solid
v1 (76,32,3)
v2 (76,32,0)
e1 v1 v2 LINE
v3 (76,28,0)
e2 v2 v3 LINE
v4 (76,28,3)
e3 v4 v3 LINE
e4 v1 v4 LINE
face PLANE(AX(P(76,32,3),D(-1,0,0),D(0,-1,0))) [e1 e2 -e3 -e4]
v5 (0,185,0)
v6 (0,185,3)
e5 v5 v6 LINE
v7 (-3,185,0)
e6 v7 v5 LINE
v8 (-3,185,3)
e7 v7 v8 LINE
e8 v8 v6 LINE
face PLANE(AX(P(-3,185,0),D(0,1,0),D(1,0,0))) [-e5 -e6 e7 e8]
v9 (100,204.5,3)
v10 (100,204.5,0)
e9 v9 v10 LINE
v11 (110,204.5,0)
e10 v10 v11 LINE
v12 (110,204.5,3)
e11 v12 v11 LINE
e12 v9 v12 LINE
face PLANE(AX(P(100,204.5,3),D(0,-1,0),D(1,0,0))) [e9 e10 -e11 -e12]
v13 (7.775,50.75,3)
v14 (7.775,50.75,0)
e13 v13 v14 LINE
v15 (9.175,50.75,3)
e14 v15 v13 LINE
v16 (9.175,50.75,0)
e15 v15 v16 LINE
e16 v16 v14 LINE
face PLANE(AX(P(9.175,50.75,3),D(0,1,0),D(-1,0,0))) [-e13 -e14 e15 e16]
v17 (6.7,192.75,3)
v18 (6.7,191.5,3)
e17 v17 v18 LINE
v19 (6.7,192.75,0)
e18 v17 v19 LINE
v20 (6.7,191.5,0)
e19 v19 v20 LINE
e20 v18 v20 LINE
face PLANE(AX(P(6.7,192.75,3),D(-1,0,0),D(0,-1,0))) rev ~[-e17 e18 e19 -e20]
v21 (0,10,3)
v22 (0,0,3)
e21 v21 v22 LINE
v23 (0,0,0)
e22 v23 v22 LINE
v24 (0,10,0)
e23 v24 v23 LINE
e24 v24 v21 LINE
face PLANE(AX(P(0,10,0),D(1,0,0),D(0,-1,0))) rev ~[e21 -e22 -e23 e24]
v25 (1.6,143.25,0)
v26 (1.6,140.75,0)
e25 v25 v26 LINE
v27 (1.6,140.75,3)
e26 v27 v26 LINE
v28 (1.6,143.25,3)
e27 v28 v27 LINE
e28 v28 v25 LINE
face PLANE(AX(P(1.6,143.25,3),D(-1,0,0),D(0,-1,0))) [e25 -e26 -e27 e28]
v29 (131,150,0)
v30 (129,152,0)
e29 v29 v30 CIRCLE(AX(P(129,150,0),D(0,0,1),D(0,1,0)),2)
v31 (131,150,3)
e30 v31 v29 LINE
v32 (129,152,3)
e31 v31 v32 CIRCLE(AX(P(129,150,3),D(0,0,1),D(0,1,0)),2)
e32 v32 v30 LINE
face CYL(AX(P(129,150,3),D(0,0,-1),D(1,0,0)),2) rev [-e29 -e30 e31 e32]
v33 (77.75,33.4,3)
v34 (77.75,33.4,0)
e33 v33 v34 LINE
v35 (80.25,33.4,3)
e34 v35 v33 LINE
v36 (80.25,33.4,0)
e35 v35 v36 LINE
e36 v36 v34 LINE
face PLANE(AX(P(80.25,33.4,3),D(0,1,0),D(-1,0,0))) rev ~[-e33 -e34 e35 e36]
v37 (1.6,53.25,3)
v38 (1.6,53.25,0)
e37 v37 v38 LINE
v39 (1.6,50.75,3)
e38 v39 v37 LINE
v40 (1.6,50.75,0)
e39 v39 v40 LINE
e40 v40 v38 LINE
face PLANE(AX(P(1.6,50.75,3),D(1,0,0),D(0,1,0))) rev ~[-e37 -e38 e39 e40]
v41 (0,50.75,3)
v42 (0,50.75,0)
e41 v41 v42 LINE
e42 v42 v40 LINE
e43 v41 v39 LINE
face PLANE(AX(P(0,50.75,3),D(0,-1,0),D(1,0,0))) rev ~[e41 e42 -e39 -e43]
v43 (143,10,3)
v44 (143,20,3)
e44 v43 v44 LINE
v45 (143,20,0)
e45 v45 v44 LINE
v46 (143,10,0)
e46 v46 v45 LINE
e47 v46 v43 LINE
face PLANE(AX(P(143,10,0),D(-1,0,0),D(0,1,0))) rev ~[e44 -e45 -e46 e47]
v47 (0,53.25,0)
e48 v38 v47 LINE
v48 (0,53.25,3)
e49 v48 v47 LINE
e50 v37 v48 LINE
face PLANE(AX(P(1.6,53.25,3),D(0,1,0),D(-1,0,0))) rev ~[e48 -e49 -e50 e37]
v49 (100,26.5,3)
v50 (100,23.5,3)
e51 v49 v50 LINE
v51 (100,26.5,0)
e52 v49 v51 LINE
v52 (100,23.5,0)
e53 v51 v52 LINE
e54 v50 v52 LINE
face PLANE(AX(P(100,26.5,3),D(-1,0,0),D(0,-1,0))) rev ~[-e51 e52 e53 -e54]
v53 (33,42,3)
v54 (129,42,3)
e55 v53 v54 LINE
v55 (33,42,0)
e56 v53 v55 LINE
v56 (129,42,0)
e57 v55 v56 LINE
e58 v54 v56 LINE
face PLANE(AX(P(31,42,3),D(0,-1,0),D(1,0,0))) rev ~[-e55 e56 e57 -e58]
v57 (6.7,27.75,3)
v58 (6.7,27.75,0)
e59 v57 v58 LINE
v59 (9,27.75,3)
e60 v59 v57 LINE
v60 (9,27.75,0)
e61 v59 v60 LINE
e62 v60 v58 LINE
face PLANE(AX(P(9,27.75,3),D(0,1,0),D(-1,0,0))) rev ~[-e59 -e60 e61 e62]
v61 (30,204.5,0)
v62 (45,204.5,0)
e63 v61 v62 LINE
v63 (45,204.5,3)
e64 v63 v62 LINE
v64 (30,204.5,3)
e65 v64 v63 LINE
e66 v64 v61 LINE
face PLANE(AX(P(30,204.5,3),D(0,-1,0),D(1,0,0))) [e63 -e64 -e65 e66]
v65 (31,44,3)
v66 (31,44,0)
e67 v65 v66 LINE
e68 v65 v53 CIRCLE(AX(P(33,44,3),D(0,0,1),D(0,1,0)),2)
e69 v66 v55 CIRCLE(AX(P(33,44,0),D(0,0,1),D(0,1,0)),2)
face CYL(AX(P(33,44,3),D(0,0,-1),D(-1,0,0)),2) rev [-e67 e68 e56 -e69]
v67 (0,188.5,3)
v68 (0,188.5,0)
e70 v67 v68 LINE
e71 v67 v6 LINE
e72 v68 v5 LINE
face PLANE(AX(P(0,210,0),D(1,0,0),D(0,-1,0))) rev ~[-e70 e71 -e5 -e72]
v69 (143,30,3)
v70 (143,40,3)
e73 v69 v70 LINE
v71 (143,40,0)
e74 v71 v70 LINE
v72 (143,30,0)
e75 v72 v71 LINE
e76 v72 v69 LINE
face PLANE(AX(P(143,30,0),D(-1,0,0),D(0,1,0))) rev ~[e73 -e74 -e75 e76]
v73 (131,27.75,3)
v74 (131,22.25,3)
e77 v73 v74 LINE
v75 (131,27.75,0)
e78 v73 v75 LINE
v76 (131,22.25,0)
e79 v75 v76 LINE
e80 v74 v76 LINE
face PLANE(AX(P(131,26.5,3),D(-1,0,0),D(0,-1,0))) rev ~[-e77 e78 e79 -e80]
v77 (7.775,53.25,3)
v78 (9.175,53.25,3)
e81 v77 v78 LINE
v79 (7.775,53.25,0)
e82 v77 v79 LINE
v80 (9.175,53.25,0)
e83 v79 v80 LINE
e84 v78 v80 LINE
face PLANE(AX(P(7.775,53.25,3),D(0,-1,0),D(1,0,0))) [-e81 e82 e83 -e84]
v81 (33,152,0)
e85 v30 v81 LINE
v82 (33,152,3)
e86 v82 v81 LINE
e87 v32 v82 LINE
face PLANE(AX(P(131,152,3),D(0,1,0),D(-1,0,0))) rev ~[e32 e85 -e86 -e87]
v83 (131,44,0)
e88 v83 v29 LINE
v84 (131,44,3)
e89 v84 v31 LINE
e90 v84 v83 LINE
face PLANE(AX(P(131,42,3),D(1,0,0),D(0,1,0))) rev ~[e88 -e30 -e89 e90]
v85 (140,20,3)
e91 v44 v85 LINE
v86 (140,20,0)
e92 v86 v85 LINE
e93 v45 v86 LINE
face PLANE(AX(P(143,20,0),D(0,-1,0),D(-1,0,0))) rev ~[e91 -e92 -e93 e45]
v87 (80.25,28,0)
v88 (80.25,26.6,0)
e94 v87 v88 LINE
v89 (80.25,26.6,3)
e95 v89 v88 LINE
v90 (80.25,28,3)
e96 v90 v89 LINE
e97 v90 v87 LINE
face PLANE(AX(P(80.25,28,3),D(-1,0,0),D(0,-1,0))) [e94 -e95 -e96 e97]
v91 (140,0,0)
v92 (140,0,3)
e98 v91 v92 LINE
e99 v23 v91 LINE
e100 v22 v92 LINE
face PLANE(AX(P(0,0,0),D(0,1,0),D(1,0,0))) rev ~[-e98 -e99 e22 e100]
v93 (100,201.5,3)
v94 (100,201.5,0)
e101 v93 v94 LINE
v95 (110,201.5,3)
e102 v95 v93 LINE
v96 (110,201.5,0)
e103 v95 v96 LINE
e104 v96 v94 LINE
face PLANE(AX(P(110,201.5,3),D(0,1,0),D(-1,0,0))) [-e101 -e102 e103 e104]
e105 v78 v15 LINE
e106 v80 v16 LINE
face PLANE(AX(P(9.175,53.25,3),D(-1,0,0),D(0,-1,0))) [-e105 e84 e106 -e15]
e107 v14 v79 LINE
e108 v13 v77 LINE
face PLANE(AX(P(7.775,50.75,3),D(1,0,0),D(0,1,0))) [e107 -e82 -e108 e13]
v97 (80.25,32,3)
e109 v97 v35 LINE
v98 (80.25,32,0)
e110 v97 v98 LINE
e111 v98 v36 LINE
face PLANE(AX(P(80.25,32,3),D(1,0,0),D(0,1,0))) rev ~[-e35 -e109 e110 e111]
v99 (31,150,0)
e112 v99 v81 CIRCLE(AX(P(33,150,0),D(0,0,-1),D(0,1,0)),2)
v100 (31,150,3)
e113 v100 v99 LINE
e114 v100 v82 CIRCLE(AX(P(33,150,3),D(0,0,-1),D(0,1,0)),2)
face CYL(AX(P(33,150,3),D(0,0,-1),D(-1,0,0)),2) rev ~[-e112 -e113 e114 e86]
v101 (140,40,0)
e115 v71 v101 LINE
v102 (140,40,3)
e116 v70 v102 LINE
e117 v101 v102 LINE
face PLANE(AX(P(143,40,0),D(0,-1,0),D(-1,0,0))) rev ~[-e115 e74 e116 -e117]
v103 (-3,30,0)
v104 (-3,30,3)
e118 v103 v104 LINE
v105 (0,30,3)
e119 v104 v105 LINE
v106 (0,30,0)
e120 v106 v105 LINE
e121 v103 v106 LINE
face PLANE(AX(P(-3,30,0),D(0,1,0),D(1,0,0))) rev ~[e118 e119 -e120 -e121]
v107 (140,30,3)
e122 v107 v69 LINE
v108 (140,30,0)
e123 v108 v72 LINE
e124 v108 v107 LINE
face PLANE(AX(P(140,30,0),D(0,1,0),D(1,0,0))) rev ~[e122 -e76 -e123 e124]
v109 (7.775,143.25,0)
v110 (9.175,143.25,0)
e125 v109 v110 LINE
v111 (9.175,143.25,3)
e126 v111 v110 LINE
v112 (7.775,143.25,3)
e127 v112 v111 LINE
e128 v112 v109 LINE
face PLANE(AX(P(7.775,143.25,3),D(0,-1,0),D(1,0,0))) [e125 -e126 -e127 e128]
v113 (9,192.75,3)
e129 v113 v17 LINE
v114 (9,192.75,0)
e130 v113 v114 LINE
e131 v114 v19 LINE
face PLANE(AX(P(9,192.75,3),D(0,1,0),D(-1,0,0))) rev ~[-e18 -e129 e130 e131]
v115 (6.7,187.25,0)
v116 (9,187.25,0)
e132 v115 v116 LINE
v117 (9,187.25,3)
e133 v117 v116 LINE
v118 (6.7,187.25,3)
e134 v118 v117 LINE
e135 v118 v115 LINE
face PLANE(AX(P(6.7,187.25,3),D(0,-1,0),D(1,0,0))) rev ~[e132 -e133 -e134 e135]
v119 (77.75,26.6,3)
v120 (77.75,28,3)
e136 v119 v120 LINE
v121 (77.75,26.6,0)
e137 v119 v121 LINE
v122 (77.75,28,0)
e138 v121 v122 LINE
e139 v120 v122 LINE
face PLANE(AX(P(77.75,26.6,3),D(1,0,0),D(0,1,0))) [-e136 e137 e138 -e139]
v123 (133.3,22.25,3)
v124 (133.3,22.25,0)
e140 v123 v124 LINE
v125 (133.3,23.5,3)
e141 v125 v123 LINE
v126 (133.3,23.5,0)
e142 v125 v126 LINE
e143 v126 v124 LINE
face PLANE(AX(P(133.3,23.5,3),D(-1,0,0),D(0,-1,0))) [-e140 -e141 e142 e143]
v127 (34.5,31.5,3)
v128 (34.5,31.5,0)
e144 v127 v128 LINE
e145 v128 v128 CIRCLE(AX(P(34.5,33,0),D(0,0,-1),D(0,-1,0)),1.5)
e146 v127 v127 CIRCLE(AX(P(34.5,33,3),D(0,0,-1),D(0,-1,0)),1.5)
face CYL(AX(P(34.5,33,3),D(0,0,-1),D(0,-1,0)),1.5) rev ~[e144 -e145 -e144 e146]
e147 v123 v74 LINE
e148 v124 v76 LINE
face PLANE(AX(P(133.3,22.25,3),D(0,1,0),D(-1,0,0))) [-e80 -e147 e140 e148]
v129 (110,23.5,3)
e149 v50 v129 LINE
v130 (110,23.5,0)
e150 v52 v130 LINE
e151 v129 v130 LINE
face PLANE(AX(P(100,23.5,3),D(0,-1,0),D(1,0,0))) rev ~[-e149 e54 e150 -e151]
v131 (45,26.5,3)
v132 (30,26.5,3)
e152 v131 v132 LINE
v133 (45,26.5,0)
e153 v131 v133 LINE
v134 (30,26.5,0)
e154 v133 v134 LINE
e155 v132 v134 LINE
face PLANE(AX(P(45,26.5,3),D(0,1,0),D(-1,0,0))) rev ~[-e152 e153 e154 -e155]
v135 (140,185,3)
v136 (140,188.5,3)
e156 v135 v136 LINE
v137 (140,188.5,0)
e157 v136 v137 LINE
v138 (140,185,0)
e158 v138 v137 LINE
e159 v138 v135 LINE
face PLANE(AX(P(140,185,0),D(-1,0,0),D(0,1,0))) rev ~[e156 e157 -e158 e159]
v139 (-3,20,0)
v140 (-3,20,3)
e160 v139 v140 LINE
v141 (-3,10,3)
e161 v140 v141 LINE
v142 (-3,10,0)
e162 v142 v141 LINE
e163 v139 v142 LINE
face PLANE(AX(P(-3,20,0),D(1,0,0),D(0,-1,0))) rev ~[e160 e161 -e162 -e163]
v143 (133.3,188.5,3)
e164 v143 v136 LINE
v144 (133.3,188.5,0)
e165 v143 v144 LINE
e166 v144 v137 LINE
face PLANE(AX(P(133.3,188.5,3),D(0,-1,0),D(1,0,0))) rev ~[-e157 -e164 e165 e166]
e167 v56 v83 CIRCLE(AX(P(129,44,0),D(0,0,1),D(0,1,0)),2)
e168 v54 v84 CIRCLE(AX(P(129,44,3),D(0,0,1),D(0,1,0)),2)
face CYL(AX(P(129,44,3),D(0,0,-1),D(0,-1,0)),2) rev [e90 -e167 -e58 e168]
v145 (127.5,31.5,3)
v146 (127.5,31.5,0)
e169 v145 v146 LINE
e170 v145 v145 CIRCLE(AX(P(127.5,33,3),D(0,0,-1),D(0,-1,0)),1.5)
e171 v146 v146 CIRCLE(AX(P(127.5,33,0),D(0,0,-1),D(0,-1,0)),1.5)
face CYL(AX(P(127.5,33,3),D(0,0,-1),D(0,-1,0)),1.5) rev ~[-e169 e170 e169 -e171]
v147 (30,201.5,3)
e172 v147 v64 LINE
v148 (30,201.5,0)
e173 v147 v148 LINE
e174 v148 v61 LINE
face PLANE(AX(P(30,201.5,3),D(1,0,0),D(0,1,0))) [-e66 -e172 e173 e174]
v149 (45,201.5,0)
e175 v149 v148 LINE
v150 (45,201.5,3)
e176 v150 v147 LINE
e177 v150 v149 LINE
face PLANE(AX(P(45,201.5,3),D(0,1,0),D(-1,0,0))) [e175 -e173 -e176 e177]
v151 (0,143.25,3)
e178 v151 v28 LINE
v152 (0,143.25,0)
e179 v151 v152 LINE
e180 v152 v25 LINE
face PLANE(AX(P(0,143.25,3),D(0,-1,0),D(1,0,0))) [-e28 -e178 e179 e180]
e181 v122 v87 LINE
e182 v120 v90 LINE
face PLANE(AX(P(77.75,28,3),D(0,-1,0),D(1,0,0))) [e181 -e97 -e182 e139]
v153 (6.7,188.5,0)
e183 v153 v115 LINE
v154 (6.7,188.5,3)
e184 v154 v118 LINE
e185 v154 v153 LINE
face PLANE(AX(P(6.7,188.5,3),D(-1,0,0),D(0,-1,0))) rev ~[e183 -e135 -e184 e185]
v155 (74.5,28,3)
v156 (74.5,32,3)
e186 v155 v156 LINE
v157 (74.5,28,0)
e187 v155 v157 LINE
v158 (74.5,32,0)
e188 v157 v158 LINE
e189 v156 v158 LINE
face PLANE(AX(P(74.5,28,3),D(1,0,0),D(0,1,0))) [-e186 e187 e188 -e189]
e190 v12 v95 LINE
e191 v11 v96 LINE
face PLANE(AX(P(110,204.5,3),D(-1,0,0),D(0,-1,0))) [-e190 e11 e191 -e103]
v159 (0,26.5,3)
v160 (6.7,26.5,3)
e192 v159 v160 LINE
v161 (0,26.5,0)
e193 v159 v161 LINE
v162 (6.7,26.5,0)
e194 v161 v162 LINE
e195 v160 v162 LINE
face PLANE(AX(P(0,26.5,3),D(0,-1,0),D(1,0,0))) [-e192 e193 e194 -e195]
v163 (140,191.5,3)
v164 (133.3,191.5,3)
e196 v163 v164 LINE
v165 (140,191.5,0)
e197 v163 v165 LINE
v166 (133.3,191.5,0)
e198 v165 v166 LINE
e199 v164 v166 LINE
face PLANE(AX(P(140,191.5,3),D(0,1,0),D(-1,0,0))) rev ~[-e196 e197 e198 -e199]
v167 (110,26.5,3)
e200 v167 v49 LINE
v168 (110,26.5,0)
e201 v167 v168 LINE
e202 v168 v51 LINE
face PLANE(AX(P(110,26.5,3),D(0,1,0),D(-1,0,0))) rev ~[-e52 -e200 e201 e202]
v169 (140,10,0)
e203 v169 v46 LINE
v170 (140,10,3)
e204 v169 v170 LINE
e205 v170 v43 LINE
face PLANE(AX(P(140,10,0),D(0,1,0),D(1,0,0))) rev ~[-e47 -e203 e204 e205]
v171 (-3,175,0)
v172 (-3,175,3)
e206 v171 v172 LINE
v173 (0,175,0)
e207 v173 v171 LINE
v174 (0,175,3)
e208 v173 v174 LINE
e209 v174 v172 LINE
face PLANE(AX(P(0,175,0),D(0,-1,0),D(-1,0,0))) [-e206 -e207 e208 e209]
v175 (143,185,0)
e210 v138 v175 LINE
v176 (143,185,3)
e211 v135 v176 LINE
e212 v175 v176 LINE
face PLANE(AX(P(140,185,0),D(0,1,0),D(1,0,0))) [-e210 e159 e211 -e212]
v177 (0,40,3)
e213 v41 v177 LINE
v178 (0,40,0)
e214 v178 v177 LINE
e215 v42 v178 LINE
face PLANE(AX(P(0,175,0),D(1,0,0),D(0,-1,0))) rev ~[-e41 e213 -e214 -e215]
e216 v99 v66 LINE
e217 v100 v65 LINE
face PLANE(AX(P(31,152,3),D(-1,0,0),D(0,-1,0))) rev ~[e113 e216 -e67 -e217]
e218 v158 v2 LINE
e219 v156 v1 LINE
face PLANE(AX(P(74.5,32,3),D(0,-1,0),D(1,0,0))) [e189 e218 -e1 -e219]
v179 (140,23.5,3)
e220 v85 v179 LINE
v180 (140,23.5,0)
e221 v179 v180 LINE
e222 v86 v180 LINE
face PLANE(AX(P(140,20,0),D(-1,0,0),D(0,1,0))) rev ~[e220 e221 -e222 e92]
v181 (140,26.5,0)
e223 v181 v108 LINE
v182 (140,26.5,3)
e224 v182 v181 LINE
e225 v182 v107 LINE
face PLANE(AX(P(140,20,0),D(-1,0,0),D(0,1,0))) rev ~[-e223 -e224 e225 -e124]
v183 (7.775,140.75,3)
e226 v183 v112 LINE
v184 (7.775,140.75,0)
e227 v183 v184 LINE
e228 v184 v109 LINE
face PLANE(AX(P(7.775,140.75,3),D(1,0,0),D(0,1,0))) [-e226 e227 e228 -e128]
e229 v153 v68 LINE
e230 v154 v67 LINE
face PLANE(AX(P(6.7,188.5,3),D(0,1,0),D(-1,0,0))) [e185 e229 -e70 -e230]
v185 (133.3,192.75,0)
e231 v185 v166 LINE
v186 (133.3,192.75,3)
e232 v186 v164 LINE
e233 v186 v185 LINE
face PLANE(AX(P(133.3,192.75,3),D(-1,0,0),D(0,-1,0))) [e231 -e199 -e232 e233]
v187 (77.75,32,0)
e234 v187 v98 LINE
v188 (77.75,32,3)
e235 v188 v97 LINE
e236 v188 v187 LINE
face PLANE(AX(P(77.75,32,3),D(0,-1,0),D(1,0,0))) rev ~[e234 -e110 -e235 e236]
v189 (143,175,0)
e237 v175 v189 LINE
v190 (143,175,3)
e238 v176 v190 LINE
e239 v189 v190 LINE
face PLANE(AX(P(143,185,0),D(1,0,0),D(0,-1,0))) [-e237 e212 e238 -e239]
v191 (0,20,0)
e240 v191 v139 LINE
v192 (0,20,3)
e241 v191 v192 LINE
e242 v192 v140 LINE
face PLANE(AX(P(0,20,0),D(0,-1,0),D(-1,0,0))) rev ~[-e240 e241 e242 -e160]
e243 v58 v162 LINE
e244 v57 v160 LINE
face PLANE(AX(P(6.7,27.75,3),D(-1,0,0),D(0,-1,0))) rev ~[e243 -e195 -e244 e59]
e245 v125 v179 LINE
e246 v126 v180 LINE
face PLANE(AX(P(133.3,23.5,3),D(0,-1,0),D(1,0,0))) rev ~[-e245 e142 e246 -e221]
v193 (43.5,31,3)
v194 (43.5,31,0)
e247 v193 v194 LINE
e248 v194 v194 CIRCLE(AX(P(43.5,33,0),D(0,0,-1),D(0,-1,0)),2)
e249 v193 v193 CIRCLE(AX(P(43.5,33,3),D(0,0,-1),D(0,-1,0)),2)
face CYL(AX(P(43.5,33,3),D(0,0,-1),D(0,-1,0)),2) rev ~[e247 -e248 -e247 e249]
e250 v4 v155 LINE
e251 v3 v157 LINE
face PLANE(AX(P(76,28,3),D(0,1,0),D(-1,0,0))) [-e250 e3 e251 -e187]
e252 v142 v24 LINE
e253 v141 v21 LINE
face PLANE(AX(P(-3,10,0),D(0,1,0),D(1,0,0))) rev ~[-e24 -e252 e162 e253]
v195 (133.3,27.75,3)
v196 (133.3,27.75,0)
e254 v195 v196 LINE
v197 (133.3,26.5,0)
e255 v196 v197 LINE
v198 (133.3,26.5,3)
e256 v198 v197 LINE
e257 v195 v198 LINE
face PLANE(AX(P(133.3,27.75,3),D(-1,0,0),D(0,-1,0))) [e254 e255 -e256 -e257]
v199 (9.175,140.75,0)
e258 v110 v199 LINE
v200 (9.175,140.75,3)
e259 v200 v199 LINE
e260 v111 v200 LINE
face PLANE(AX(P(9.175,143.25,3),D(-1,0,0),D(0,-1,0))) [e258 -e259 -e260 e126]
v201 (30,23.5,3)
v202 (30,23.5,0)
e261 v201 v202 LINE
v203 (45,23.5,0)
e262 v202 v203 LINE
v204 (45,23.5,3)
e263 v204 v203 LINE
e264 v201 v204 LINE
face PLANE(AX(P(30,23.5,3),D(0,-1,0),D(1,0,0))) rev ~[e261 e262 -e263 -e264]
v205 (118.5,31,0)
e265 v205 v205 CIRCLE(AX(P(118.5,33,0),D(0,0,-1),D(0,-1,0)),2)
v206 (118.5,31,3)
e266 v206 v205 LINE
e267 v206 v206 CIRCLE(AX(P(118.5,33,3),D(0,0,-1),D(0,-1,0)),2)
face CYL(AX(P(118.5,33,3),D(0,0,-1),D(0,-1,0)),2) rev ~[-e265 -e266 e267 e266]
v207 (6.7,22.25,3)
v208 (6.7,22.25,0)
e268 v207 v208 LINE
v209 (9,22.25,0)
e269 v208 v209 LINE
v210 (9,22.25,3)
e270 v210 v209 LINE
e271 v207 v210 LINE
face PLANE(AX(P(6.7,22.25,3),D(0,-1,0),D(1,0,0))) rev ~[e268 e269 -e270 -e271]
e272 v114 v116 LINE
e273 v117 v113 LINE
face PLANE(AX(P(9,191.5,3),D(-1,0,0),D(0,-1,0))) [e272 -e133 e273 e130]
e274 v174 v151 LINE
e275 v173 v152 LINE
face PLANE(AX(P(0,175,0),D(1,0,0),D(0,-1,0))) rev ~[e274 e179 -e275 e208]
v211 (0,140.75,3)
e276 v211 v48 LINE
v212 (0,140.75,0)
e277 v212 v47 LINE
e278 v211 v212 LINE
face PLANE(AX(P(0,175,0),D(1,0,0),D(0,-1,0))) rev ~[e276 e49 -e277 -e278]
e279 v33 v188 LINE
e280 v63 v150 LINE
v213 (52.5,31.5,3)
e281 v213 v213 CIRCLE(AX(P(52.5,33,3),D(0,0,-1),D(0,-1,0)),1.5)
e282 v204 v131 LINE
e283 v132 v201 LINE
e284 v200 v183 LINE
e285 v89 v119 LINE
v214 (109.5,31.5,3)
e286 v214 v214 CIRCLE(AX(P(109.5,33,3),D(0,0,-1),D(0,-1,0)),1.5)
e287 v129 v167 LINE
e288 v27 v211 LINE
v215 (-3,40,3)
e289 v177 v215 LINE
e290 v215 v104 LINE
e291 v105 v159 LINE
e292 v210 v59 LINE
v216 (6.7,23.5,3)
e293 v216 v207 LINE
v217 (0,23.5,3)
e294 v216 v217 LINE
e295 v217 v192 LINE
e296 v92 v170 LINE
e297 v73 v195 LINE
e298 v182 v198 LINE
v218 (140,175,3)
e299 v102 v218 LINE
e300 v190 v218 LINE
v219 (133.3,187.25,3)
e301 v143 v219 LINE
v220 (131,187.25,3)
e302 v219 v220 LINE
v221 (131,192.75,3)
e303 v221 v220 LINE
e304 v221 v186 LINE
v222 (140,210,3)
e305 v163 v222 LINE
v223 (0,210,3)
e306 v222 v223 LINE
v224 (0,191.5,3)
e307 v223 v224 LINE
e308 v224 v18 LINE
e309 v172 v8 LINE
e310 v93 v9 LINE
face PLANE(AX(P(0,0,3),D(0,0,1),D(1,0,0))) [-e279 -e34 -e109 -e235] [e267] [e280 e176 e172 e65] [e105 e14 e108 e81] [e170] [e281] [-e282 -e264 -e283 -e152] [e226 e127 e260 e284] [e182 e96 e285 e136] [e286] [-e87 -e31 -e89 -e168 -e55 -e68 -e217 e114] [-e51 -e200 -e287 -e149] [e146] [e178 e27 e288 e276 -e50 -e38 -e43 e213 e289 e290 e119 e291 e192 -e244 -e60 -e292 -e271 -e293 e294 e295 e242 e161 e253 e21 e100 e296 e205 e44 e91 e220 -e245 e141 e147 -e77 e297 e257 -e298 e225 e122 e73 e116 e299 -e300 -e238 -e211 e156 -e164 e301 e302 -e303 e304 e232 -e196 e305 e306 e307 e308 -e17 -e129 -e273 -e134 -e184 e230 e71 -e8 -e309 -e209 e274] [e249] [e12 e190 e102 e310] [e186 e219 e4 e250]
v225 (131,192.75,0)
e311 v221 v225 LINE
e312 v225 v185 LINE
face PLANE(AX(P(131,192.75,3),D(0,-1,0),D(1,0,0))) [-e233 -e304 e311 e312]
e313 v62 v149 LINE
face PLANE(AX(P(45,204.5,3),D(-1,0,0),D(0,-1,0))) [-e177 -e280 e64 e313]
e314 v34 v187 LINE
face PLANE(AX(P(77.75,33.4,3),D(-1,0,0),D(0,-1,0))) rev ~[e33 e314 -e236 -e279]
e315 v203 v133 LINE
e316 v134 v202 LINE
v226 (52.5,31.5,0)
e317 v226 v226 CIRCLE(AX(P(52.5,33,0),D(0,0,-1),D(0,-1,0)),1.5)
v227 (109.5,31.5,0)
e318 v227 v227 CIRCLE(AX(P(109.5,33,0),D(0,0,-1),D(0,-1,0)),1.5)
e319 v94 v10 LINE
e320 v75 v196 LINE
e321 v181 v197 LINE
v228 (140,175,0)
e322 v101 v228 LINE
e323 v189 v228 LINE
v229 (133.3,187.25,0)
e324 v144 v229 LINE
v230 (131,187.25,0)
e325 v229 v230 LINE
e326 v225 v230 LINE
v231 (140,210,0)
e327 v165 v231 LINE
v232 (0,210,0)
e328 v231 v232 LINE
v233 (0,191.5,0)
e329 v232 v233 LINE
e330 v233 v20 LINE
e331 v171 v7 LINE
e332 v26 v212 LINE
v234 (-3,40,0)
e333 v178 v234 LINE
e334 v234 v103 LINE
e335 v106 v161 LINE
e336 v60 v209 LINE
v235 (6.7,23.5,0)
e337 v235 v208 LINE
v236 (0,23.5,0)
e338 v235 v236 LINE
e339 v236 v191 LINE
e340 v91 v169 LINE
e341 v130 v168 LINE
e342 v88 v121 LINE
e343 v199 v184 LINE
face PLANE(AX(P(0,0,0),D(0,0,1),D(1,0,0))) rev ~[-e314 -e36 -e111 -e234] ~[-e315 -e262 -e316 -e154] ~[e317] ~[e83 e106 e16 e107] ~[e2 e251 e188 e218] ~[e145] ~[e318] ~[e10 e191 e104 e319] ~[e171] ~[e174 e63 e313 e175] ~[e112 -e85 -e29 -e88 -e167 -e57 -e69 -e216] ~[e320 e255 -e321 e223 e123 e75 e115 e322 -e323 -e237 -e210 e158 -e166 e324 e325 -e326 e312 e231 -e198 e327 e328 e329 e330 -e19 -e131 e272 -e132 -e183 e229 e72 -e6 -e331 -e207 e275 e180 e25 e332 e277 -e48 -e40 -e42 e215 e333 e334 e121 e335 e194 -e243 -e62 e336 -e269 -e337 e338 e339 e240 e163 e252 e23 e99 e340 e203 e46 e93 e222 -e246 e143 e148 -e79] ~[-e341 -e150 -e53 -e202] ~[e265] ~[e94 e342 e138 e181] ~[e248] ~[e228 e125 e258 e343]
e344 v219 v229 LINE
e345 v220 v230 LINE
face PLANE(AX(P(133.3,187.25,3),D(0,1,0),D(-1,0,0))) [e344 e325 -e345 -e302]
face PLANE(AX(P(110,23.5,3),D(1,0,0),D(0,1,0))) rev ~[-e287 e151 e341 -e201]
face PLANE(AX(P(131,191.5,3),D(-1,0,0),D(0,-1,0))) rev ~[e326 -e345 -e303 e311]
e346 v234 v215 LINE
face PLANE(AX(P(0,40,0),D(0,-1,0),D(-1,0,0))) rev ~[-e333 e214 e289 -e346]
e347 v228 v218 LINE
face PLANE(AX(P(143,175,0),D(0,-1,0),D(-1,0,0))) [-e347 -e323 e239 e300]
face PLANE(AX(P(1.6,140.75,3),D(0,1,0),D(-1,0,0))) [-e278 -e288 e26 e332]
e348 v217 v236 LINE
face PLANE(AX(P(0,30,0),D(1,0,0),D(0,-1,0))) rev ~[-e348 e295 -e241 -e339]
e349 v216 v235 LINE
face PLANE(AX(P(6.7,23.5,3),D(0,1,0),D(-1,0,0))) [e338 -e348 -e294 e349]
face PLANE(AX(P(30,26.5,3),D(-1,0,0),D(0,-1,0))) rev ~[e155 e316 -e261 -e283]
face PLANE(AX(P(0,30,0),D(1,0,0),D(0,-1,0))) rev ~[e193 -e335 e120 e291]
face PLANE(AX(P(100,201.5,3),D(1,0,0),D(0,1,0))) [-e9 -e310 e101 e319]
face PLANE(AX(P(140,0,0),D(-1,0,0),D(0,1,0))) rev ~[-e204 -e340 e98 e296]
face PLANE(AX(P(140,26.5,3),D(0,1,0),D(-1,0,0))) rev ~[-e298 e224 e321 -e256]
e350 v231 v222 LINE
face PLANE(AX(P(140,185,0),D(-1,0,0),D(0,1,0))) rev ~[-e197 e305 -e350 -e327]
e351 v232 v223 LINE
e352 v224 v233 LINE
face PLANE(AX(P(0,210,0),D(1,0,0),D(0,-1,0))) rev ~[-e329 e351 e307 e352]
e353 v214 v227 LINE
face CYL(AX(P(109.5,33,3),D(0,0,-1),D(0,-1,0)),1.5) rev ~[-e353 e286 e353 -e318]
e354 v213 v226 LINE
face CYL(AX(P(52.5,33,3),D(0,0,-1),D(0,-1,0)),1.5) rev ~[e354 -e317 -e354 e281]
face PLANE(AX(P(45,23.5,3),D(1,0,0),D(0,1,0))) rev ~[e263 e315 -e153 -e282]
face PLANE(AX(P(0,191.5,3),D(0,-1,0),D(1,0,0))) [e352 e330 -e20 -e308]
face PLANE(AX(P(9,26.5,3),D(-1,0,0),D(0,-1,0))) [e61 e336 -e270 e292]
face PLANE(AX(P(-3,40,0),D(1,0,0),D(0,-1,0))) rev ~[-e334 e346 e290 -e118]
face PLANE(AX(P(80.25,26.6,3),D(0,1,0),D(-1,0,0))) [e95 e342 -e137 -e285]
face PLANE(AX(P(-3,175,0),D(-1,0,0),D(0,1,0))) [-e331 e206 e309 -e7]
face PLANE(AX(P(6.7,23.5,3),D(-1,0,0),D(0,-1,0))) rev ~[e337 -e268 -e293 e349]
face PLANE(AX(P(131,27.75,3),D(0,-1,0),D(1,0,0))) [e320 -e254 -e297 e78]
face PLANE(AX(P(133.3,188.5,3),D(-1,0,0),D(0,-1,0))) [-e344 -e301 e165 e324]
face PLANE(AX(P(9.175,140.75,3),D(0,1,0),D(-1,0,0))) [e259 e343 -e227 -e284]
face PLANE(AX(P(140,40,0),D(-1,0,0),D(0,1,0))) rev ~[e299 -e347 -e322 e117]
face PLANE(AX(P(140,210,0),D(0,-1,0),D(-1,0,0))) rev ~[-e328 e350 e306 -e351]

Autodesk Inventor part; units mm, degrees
ref_plane "YZ Plane" through (0, 0, 0) normal (1, 0, 0) x (0, 1, 0)
ref_plane "XZ Plane" through (0, 0, 0) normal (0, 1, 0) x (-1, 0, 0)
ref_plane "XY Plane" through (0, 0, 0) normal (0, 0, 1) x (1, 0, 0)
sketch "Sketch1" plane through (0, 0, 0) normal (0, 0, 1) x (1, 0, 0)
  line L0 (0, 0) -> (140, 0)
  line L1 (140, 0) -> (140, 210)
  line L2 (140, 210) -> (0, 210)
  line L3 (0, 210) -> (0, 0)
  line L4 (-3, 10) -> (143, 10)
  line L5 (143, 10) -> (143, 20)
  line L6 (143, 20) -> (-3, 20)
  line L7 (-3, 20) -> (-3, 10)
  line L8 (-3, 30) -> (143, 30)
  line L9 (143, 30) -> (143, 40)
  line L10 (143, 40) -> (-3, 40)
  line L11 (-3, 40) -> (-3, 30)
  line L12 (-3, 185) -> (143, 185)
  line L13 (143, 185) -> (143, 175)
  line L14 (143, 175) -> (-3, 175)
  line L15 (-3, 175) -> (-3, 185)
  dimension "d0" = 140
  dimension "d1" = 210
  dimension "d14" = 146
  dimension "d15" = 10
  dimension "d16" = 3
  dimension "d17" = 10
  dimension "d18" = 10
  dimension "d19" = 10
  dimension "d23" = 10
  dimension "d60" = 146
  dimension "d191" = 3
  dimension "d192" = 25
extrude "Extrusion1" add sketch "Sketch1" along normal blind 3
sketch "Sketch2" plane through (0, 0, 3) normal (0, 0, 1) x (1, 0, 0)
  line L0 (140, 30) -> (140, 20) projected
  line L1 (143, 30) -> (140, 30) projected
  line L2 (140, 190) -> (140, 185) projected
  line L3 (0, 185) -> (0, 190) projected
  line L4 (0, 30) -> (-3, 30) projected
  line L5 (0, 20) -> (0, 30) projected
  line L6 (0, 191.5) -> (9, 191.5)
  line L7 (9, 191.5) -> (9, 188.5)
  line L8 (9, 188.5) -> (0, 188.5)
  line L9 (0, 188.5) -> (0, 191.5)
  line L10 (9, 192.75) -> (6.7, 192.75)
  line L11 (6.7, 192.75) -> (6.7, 187.25)
  line L12 (6.7, 187.25) -> (9, 187.25)
  line L13 (9, 187.25) -> (9, 192.75)
  line L14 (140, 191.5) -> (131, 191.5)
  line L15 (131, 191.5) -> (131, 188.5)
  line L16 (131, 188.5) -> (140, 188.5)
  line L17 (140, 188.5) -> (140, 191.5)
  line L18 (131, 192.75) -> (133.3, 192.75)
  line L19 (133.3, 192.75) -> (133.3, 187.25)
  line L20 (133.3, 187.25) -> (131, 187.25)
  line L21 (131, 187.25) -> (131, 192.75)
  line L22 (0, 26.5) -> (9, 26.5)
  line L23 (9, 26.5) -> (9, 23.5)
  line L24 (9, 23.5) -> (0, 23.5)
  line L25 (0, 23.5) -> (0, 26.5)
  line L26 (9, 27.75) -> (6.7, 27.75)
  line L27 (6.7, 27.75) -> (6.7, 22.25)
  line L28 (6.7, 22.25) -> (9, 22.25)
  line L29 (9, 22.25) -> (9, 27.75)
  line L30 (140, 26.5) -> (131, 26.5)
  line L31 (131, 26.5) -> (131, 23.5)
  line L32 (131, 23.5) -> (140, 23.5)
  line L33 (140, 23.5) -> (140, 26.5)
  line L34 (131, 27.75) -> (133.3, 27.75)
  line L35 (133.3, 27.75) -> (133.3, 22.25)
  line L36 (133.3, 22.25) -> (131, 22.25)
  line L37 (131, 22.25) -> (131, 27.75)
  line L38 (0, 210) -> (140, 210) projected
  dimension "d26" = 3
  dimension "d29" = 2.3
  dimension "d30" = 0
  dimension "d31" = 5.5
  dimension "d33" = 3
  dimension "d34" = 9
  dimension "d35" = 5.5
  dimension "d36" = 2.3
  dimension "d38" = 9
  dimension "d39" = 3
  dimension "d40" = 3.5
  dimension "d41" = 2.3
  dimension "d42" = 5.5
  dimension "d43" = 2.25
  dimension "d44" = 9
  dimension "d45" = 2.3
  dimension "d46" = 2.25
  dimension "d47" = 5.5
  dimension "d188" = 18.5
  dimension "d189" = 1.25
  dimension "d190" = 1.25
extrude "Extrusion2" cut sketch "Sketch2" against normal through all
sketch "Sketch3" plane through (0, 0, 3) normal (0, 0, 1) x (1, 0, 0)
  line L0 (0, 0) -> (0, 10) projected
  line L1 (140, 0) -> (0, 0) projected
  line L2 (140, 10) -> (140, 0) projected
  line L3 (30, 23.5) -> (45, 23.5)
  line L4 (45, 23.5) -> (45, 26.5)
  line L5 (45, 26.5) -> (30, 26.5)
  line L6 (30, 26.5) -> (30, 23.5)
  line L7 (100, 23.5) -> (110, 23.5)
  line L8 (110, 23.5) -> (110, 26.5)
  line L9 (110, 26.5) -> (100, 26.5)
  line L10 (100, 26.5) -> (100, 23.5)
  line L11 (0, 210) -> (140, 210) projected
  line L12 (30, 204.5) -> (45, 204.5)
  line L13 (45, 204.5) -> (45, 201.5)
  line L14 (45, 201.5) -> (30, 201.5)
  line L15 (30, 201.5) -> (30, 204.5)
  line L16 (100, 204.5) -> (110, 204.5)
  line L17 (110, 204.5) -> (110, 201.5)
  line L18 (110, 201.5) -> (100, 201.5)
  line L19 (100, 201.5) -> (100, 204.5)
  line L20 (140, 210) -> (140, 200) projected
  line L21 (0, 200) -> (0, 210) projected
  dimension "d50" = 15
  dimension "d51" = 3
  dimension "d52" = 23.5
  dimension "d53" = 10
  dimension "d54" = 3
  dimension "d55" = 23.5
  dimension "d56" = 30
  dimension "d57" = 30
  dimension "d91" = 15
  dimension "d92" = 3
  dimension "d93" = 5.5
  dimension "d134" = 30
  dimension "d135" = 30
  dimension "d136" = 10
  dimension "d148" = 5.5
  dimension "d149" = 3
extrude "Extrusion3" cut sketch "Sketch3" against normal through all
sketch "Sketch7" plane through (0, 0, 3) normal (0, 0, 1) x (1, 0, 0)
  line L0 (30, 26.5) -> (45, 26.5) projected
  line L1 (140, 175) -> (140, 40) projected
  line L2 (100, 26.5) -> (110, 26.5) projected
  point P0 (43.5, 33)
  point P1 (118.5, 33)
  dimension "d94" = 6.5
  dimension "d95" = 75
  dimension "d96" = 21.5
  dimension "d115" = 6.5
hole "Hole3" at (43.5, 33, 3) at (118.5, 33, 3) direction (0, 0, -1) diameter 4 end through all
sketch "Sketch8" plane through (0, 0, 3) normal (0, 0, 1) x (1, 0, 0)
  circle A0 centre (43.5, 33) radius 2 projected
  circle A1 centre (118.5, 33) radius 2 projected
  point P0 (34.5, 33)
  point P1 (52.5, 33)
  point P2 (109.5, 33)
  point P3 (127.5, 33)
  dimension "d104" = 9
  dimension "d105" = 9
  dimension "d106" = 9
  dimension "d107" = 9
  dimension "d116" = 0
  dimension "d117" = 0
  dimension "d145" = 0
  dimension "d146" = 0
hole "Hole4" at (34.5, 33, 3) at (52.5, 33, 3) at (109.5, 33, 3) at (127.5, 33, 3) direction (0, 0, -1) diameter 3 end through all
sketch "Sketch9" plane through (0, 0, 3) normal (0, 0, 1) x (1, 0, 0)
  circle A0 centre (43.5, 33) radius 2 projected
  circle A1 centre (118.5, 33) radius 2 projected
  line L0 (31, 42) -> (131, 42)
  line L1 (131, 42) -> (131, 152)
  line L2 (131, 152) -> (31, 152)
  line L3 (31, 152) -> (31, 42)
  dimension "d118" = 100
  dimension "d119" = 110
  dimension "d120" = 9
  dimension "d121" = 12.5
extrude "Extrusion4" cut sketch "Sketch9" against normal through all contours L3 L2 L1 L0
fillet "Fillet1" radius 2 4 edges at (31, 152, 1.5) (31, 42, 1.5) (131, 42, 1.5) (131, 152, 1.5)
sketch "Sketch14" plane through (0, 0, 3) normal (0, 0, 1) x (1, 0, 0)
  line L0 (74.5, 32) -> (76, 32)
  line L1 (76, 32) -> (76, 28)
  line L2 (76, 28) -> (74.5, 28)
  line L3 (74.5, 28) -> (74.5, 32)
  line L4 (140, 175) -> (140, 40) projected
  line L5 (140, 0) -> (0, 0) projected
  line L6 (77.75, 32) -> (80.25, 32)
  line L7 (80.25, 32) -> (80.25, 33.4)
  line L8 (80.25, 33.4) -> (77.75, 33.4)
  line L9 (77.75, 33.4) -> (77.75, 32)
  line L10 (77.75, 28) -> (80.25, 28)
  line L11 (80.25, 28) -> (80.25, 26.6)
  line L12 (80.25, 26.6) -> (77.75, 26.6)
  line L13 (77.75, 26.6) -> (77.75, 28)
  dimension "d159" = 1.5
  dimension "d160" = 4
  dimension "d165" = 28
  dimension "d166" = 64
  dimension "d167" = 2.5
  dimension "d168" = 1.4
  dimension "d171" = 1.4
  dimension "d193" = 0
  dimension "d194" = 0
extrude "Extrusion5" cut sketch "Sketch14" against normal through all
sketch "草圖15" plane through (0, 0, 3) normal (0, 0, 1) x (1, 0, 0)
  line L0 (33, 152) -> (129, 152) projected
  line L1 (0, 40) -> (0, 175) projected
  line L2 (-3, 40) -> (0, 40) projected
  line L3 (0, 50.75) -> (1.6, 50.75)
  line L4 (1.6, 50.75) -> (1.6, 53.25)
  line L5 (1.6, 53.25) -> (0, 53.25)
  line L6 (0, 53.25) -> (0, 50.75)
  line L7 (7.775, 53.25) -> (9.175, 53.25)
  line L8 (9.175, 53.25) -> (9.175, 50.75)
  line L9 (9.175, 50.75) -> (7.775, 50.75)
  line L10 (7.775, 50.75) -> (7.775, 53.25)
  line L11 (0, 143.25) -> (1.6, 143.25)
  line L12 (1.6, 143.25) -> (1.6, 140.75)
  line L13 (1.6, 140.75) -> (0, 140.75)
  line L14 (0, 140.75) -> (0, 143.25)
  line L15 (7.775, 143.25) -> (9.175, 143.25)
  line L16 (9.175, 143.25) -> (9.175, 140.75)
  line L17 (9.175, 140.75) -> (7.775, 140.75)
  line L18 (7.775, 140.75) -> (7.775, 143.25)
  dimension "d173" = 2.5
  dimension "d175" = 1.6
  dimension "d176" = 10.75
  dimension "d177" = 1.4
  dimension "d178" = 6.175
  dimension "d179" = 2.5
  dimension "d180" = 8.75
  dimension "d181" = 1.4
  dimension "d182" = 6.175
extrude "擠出6" cut sketch "草圖15" against normal through all
properties part number "plastic_part_02"
